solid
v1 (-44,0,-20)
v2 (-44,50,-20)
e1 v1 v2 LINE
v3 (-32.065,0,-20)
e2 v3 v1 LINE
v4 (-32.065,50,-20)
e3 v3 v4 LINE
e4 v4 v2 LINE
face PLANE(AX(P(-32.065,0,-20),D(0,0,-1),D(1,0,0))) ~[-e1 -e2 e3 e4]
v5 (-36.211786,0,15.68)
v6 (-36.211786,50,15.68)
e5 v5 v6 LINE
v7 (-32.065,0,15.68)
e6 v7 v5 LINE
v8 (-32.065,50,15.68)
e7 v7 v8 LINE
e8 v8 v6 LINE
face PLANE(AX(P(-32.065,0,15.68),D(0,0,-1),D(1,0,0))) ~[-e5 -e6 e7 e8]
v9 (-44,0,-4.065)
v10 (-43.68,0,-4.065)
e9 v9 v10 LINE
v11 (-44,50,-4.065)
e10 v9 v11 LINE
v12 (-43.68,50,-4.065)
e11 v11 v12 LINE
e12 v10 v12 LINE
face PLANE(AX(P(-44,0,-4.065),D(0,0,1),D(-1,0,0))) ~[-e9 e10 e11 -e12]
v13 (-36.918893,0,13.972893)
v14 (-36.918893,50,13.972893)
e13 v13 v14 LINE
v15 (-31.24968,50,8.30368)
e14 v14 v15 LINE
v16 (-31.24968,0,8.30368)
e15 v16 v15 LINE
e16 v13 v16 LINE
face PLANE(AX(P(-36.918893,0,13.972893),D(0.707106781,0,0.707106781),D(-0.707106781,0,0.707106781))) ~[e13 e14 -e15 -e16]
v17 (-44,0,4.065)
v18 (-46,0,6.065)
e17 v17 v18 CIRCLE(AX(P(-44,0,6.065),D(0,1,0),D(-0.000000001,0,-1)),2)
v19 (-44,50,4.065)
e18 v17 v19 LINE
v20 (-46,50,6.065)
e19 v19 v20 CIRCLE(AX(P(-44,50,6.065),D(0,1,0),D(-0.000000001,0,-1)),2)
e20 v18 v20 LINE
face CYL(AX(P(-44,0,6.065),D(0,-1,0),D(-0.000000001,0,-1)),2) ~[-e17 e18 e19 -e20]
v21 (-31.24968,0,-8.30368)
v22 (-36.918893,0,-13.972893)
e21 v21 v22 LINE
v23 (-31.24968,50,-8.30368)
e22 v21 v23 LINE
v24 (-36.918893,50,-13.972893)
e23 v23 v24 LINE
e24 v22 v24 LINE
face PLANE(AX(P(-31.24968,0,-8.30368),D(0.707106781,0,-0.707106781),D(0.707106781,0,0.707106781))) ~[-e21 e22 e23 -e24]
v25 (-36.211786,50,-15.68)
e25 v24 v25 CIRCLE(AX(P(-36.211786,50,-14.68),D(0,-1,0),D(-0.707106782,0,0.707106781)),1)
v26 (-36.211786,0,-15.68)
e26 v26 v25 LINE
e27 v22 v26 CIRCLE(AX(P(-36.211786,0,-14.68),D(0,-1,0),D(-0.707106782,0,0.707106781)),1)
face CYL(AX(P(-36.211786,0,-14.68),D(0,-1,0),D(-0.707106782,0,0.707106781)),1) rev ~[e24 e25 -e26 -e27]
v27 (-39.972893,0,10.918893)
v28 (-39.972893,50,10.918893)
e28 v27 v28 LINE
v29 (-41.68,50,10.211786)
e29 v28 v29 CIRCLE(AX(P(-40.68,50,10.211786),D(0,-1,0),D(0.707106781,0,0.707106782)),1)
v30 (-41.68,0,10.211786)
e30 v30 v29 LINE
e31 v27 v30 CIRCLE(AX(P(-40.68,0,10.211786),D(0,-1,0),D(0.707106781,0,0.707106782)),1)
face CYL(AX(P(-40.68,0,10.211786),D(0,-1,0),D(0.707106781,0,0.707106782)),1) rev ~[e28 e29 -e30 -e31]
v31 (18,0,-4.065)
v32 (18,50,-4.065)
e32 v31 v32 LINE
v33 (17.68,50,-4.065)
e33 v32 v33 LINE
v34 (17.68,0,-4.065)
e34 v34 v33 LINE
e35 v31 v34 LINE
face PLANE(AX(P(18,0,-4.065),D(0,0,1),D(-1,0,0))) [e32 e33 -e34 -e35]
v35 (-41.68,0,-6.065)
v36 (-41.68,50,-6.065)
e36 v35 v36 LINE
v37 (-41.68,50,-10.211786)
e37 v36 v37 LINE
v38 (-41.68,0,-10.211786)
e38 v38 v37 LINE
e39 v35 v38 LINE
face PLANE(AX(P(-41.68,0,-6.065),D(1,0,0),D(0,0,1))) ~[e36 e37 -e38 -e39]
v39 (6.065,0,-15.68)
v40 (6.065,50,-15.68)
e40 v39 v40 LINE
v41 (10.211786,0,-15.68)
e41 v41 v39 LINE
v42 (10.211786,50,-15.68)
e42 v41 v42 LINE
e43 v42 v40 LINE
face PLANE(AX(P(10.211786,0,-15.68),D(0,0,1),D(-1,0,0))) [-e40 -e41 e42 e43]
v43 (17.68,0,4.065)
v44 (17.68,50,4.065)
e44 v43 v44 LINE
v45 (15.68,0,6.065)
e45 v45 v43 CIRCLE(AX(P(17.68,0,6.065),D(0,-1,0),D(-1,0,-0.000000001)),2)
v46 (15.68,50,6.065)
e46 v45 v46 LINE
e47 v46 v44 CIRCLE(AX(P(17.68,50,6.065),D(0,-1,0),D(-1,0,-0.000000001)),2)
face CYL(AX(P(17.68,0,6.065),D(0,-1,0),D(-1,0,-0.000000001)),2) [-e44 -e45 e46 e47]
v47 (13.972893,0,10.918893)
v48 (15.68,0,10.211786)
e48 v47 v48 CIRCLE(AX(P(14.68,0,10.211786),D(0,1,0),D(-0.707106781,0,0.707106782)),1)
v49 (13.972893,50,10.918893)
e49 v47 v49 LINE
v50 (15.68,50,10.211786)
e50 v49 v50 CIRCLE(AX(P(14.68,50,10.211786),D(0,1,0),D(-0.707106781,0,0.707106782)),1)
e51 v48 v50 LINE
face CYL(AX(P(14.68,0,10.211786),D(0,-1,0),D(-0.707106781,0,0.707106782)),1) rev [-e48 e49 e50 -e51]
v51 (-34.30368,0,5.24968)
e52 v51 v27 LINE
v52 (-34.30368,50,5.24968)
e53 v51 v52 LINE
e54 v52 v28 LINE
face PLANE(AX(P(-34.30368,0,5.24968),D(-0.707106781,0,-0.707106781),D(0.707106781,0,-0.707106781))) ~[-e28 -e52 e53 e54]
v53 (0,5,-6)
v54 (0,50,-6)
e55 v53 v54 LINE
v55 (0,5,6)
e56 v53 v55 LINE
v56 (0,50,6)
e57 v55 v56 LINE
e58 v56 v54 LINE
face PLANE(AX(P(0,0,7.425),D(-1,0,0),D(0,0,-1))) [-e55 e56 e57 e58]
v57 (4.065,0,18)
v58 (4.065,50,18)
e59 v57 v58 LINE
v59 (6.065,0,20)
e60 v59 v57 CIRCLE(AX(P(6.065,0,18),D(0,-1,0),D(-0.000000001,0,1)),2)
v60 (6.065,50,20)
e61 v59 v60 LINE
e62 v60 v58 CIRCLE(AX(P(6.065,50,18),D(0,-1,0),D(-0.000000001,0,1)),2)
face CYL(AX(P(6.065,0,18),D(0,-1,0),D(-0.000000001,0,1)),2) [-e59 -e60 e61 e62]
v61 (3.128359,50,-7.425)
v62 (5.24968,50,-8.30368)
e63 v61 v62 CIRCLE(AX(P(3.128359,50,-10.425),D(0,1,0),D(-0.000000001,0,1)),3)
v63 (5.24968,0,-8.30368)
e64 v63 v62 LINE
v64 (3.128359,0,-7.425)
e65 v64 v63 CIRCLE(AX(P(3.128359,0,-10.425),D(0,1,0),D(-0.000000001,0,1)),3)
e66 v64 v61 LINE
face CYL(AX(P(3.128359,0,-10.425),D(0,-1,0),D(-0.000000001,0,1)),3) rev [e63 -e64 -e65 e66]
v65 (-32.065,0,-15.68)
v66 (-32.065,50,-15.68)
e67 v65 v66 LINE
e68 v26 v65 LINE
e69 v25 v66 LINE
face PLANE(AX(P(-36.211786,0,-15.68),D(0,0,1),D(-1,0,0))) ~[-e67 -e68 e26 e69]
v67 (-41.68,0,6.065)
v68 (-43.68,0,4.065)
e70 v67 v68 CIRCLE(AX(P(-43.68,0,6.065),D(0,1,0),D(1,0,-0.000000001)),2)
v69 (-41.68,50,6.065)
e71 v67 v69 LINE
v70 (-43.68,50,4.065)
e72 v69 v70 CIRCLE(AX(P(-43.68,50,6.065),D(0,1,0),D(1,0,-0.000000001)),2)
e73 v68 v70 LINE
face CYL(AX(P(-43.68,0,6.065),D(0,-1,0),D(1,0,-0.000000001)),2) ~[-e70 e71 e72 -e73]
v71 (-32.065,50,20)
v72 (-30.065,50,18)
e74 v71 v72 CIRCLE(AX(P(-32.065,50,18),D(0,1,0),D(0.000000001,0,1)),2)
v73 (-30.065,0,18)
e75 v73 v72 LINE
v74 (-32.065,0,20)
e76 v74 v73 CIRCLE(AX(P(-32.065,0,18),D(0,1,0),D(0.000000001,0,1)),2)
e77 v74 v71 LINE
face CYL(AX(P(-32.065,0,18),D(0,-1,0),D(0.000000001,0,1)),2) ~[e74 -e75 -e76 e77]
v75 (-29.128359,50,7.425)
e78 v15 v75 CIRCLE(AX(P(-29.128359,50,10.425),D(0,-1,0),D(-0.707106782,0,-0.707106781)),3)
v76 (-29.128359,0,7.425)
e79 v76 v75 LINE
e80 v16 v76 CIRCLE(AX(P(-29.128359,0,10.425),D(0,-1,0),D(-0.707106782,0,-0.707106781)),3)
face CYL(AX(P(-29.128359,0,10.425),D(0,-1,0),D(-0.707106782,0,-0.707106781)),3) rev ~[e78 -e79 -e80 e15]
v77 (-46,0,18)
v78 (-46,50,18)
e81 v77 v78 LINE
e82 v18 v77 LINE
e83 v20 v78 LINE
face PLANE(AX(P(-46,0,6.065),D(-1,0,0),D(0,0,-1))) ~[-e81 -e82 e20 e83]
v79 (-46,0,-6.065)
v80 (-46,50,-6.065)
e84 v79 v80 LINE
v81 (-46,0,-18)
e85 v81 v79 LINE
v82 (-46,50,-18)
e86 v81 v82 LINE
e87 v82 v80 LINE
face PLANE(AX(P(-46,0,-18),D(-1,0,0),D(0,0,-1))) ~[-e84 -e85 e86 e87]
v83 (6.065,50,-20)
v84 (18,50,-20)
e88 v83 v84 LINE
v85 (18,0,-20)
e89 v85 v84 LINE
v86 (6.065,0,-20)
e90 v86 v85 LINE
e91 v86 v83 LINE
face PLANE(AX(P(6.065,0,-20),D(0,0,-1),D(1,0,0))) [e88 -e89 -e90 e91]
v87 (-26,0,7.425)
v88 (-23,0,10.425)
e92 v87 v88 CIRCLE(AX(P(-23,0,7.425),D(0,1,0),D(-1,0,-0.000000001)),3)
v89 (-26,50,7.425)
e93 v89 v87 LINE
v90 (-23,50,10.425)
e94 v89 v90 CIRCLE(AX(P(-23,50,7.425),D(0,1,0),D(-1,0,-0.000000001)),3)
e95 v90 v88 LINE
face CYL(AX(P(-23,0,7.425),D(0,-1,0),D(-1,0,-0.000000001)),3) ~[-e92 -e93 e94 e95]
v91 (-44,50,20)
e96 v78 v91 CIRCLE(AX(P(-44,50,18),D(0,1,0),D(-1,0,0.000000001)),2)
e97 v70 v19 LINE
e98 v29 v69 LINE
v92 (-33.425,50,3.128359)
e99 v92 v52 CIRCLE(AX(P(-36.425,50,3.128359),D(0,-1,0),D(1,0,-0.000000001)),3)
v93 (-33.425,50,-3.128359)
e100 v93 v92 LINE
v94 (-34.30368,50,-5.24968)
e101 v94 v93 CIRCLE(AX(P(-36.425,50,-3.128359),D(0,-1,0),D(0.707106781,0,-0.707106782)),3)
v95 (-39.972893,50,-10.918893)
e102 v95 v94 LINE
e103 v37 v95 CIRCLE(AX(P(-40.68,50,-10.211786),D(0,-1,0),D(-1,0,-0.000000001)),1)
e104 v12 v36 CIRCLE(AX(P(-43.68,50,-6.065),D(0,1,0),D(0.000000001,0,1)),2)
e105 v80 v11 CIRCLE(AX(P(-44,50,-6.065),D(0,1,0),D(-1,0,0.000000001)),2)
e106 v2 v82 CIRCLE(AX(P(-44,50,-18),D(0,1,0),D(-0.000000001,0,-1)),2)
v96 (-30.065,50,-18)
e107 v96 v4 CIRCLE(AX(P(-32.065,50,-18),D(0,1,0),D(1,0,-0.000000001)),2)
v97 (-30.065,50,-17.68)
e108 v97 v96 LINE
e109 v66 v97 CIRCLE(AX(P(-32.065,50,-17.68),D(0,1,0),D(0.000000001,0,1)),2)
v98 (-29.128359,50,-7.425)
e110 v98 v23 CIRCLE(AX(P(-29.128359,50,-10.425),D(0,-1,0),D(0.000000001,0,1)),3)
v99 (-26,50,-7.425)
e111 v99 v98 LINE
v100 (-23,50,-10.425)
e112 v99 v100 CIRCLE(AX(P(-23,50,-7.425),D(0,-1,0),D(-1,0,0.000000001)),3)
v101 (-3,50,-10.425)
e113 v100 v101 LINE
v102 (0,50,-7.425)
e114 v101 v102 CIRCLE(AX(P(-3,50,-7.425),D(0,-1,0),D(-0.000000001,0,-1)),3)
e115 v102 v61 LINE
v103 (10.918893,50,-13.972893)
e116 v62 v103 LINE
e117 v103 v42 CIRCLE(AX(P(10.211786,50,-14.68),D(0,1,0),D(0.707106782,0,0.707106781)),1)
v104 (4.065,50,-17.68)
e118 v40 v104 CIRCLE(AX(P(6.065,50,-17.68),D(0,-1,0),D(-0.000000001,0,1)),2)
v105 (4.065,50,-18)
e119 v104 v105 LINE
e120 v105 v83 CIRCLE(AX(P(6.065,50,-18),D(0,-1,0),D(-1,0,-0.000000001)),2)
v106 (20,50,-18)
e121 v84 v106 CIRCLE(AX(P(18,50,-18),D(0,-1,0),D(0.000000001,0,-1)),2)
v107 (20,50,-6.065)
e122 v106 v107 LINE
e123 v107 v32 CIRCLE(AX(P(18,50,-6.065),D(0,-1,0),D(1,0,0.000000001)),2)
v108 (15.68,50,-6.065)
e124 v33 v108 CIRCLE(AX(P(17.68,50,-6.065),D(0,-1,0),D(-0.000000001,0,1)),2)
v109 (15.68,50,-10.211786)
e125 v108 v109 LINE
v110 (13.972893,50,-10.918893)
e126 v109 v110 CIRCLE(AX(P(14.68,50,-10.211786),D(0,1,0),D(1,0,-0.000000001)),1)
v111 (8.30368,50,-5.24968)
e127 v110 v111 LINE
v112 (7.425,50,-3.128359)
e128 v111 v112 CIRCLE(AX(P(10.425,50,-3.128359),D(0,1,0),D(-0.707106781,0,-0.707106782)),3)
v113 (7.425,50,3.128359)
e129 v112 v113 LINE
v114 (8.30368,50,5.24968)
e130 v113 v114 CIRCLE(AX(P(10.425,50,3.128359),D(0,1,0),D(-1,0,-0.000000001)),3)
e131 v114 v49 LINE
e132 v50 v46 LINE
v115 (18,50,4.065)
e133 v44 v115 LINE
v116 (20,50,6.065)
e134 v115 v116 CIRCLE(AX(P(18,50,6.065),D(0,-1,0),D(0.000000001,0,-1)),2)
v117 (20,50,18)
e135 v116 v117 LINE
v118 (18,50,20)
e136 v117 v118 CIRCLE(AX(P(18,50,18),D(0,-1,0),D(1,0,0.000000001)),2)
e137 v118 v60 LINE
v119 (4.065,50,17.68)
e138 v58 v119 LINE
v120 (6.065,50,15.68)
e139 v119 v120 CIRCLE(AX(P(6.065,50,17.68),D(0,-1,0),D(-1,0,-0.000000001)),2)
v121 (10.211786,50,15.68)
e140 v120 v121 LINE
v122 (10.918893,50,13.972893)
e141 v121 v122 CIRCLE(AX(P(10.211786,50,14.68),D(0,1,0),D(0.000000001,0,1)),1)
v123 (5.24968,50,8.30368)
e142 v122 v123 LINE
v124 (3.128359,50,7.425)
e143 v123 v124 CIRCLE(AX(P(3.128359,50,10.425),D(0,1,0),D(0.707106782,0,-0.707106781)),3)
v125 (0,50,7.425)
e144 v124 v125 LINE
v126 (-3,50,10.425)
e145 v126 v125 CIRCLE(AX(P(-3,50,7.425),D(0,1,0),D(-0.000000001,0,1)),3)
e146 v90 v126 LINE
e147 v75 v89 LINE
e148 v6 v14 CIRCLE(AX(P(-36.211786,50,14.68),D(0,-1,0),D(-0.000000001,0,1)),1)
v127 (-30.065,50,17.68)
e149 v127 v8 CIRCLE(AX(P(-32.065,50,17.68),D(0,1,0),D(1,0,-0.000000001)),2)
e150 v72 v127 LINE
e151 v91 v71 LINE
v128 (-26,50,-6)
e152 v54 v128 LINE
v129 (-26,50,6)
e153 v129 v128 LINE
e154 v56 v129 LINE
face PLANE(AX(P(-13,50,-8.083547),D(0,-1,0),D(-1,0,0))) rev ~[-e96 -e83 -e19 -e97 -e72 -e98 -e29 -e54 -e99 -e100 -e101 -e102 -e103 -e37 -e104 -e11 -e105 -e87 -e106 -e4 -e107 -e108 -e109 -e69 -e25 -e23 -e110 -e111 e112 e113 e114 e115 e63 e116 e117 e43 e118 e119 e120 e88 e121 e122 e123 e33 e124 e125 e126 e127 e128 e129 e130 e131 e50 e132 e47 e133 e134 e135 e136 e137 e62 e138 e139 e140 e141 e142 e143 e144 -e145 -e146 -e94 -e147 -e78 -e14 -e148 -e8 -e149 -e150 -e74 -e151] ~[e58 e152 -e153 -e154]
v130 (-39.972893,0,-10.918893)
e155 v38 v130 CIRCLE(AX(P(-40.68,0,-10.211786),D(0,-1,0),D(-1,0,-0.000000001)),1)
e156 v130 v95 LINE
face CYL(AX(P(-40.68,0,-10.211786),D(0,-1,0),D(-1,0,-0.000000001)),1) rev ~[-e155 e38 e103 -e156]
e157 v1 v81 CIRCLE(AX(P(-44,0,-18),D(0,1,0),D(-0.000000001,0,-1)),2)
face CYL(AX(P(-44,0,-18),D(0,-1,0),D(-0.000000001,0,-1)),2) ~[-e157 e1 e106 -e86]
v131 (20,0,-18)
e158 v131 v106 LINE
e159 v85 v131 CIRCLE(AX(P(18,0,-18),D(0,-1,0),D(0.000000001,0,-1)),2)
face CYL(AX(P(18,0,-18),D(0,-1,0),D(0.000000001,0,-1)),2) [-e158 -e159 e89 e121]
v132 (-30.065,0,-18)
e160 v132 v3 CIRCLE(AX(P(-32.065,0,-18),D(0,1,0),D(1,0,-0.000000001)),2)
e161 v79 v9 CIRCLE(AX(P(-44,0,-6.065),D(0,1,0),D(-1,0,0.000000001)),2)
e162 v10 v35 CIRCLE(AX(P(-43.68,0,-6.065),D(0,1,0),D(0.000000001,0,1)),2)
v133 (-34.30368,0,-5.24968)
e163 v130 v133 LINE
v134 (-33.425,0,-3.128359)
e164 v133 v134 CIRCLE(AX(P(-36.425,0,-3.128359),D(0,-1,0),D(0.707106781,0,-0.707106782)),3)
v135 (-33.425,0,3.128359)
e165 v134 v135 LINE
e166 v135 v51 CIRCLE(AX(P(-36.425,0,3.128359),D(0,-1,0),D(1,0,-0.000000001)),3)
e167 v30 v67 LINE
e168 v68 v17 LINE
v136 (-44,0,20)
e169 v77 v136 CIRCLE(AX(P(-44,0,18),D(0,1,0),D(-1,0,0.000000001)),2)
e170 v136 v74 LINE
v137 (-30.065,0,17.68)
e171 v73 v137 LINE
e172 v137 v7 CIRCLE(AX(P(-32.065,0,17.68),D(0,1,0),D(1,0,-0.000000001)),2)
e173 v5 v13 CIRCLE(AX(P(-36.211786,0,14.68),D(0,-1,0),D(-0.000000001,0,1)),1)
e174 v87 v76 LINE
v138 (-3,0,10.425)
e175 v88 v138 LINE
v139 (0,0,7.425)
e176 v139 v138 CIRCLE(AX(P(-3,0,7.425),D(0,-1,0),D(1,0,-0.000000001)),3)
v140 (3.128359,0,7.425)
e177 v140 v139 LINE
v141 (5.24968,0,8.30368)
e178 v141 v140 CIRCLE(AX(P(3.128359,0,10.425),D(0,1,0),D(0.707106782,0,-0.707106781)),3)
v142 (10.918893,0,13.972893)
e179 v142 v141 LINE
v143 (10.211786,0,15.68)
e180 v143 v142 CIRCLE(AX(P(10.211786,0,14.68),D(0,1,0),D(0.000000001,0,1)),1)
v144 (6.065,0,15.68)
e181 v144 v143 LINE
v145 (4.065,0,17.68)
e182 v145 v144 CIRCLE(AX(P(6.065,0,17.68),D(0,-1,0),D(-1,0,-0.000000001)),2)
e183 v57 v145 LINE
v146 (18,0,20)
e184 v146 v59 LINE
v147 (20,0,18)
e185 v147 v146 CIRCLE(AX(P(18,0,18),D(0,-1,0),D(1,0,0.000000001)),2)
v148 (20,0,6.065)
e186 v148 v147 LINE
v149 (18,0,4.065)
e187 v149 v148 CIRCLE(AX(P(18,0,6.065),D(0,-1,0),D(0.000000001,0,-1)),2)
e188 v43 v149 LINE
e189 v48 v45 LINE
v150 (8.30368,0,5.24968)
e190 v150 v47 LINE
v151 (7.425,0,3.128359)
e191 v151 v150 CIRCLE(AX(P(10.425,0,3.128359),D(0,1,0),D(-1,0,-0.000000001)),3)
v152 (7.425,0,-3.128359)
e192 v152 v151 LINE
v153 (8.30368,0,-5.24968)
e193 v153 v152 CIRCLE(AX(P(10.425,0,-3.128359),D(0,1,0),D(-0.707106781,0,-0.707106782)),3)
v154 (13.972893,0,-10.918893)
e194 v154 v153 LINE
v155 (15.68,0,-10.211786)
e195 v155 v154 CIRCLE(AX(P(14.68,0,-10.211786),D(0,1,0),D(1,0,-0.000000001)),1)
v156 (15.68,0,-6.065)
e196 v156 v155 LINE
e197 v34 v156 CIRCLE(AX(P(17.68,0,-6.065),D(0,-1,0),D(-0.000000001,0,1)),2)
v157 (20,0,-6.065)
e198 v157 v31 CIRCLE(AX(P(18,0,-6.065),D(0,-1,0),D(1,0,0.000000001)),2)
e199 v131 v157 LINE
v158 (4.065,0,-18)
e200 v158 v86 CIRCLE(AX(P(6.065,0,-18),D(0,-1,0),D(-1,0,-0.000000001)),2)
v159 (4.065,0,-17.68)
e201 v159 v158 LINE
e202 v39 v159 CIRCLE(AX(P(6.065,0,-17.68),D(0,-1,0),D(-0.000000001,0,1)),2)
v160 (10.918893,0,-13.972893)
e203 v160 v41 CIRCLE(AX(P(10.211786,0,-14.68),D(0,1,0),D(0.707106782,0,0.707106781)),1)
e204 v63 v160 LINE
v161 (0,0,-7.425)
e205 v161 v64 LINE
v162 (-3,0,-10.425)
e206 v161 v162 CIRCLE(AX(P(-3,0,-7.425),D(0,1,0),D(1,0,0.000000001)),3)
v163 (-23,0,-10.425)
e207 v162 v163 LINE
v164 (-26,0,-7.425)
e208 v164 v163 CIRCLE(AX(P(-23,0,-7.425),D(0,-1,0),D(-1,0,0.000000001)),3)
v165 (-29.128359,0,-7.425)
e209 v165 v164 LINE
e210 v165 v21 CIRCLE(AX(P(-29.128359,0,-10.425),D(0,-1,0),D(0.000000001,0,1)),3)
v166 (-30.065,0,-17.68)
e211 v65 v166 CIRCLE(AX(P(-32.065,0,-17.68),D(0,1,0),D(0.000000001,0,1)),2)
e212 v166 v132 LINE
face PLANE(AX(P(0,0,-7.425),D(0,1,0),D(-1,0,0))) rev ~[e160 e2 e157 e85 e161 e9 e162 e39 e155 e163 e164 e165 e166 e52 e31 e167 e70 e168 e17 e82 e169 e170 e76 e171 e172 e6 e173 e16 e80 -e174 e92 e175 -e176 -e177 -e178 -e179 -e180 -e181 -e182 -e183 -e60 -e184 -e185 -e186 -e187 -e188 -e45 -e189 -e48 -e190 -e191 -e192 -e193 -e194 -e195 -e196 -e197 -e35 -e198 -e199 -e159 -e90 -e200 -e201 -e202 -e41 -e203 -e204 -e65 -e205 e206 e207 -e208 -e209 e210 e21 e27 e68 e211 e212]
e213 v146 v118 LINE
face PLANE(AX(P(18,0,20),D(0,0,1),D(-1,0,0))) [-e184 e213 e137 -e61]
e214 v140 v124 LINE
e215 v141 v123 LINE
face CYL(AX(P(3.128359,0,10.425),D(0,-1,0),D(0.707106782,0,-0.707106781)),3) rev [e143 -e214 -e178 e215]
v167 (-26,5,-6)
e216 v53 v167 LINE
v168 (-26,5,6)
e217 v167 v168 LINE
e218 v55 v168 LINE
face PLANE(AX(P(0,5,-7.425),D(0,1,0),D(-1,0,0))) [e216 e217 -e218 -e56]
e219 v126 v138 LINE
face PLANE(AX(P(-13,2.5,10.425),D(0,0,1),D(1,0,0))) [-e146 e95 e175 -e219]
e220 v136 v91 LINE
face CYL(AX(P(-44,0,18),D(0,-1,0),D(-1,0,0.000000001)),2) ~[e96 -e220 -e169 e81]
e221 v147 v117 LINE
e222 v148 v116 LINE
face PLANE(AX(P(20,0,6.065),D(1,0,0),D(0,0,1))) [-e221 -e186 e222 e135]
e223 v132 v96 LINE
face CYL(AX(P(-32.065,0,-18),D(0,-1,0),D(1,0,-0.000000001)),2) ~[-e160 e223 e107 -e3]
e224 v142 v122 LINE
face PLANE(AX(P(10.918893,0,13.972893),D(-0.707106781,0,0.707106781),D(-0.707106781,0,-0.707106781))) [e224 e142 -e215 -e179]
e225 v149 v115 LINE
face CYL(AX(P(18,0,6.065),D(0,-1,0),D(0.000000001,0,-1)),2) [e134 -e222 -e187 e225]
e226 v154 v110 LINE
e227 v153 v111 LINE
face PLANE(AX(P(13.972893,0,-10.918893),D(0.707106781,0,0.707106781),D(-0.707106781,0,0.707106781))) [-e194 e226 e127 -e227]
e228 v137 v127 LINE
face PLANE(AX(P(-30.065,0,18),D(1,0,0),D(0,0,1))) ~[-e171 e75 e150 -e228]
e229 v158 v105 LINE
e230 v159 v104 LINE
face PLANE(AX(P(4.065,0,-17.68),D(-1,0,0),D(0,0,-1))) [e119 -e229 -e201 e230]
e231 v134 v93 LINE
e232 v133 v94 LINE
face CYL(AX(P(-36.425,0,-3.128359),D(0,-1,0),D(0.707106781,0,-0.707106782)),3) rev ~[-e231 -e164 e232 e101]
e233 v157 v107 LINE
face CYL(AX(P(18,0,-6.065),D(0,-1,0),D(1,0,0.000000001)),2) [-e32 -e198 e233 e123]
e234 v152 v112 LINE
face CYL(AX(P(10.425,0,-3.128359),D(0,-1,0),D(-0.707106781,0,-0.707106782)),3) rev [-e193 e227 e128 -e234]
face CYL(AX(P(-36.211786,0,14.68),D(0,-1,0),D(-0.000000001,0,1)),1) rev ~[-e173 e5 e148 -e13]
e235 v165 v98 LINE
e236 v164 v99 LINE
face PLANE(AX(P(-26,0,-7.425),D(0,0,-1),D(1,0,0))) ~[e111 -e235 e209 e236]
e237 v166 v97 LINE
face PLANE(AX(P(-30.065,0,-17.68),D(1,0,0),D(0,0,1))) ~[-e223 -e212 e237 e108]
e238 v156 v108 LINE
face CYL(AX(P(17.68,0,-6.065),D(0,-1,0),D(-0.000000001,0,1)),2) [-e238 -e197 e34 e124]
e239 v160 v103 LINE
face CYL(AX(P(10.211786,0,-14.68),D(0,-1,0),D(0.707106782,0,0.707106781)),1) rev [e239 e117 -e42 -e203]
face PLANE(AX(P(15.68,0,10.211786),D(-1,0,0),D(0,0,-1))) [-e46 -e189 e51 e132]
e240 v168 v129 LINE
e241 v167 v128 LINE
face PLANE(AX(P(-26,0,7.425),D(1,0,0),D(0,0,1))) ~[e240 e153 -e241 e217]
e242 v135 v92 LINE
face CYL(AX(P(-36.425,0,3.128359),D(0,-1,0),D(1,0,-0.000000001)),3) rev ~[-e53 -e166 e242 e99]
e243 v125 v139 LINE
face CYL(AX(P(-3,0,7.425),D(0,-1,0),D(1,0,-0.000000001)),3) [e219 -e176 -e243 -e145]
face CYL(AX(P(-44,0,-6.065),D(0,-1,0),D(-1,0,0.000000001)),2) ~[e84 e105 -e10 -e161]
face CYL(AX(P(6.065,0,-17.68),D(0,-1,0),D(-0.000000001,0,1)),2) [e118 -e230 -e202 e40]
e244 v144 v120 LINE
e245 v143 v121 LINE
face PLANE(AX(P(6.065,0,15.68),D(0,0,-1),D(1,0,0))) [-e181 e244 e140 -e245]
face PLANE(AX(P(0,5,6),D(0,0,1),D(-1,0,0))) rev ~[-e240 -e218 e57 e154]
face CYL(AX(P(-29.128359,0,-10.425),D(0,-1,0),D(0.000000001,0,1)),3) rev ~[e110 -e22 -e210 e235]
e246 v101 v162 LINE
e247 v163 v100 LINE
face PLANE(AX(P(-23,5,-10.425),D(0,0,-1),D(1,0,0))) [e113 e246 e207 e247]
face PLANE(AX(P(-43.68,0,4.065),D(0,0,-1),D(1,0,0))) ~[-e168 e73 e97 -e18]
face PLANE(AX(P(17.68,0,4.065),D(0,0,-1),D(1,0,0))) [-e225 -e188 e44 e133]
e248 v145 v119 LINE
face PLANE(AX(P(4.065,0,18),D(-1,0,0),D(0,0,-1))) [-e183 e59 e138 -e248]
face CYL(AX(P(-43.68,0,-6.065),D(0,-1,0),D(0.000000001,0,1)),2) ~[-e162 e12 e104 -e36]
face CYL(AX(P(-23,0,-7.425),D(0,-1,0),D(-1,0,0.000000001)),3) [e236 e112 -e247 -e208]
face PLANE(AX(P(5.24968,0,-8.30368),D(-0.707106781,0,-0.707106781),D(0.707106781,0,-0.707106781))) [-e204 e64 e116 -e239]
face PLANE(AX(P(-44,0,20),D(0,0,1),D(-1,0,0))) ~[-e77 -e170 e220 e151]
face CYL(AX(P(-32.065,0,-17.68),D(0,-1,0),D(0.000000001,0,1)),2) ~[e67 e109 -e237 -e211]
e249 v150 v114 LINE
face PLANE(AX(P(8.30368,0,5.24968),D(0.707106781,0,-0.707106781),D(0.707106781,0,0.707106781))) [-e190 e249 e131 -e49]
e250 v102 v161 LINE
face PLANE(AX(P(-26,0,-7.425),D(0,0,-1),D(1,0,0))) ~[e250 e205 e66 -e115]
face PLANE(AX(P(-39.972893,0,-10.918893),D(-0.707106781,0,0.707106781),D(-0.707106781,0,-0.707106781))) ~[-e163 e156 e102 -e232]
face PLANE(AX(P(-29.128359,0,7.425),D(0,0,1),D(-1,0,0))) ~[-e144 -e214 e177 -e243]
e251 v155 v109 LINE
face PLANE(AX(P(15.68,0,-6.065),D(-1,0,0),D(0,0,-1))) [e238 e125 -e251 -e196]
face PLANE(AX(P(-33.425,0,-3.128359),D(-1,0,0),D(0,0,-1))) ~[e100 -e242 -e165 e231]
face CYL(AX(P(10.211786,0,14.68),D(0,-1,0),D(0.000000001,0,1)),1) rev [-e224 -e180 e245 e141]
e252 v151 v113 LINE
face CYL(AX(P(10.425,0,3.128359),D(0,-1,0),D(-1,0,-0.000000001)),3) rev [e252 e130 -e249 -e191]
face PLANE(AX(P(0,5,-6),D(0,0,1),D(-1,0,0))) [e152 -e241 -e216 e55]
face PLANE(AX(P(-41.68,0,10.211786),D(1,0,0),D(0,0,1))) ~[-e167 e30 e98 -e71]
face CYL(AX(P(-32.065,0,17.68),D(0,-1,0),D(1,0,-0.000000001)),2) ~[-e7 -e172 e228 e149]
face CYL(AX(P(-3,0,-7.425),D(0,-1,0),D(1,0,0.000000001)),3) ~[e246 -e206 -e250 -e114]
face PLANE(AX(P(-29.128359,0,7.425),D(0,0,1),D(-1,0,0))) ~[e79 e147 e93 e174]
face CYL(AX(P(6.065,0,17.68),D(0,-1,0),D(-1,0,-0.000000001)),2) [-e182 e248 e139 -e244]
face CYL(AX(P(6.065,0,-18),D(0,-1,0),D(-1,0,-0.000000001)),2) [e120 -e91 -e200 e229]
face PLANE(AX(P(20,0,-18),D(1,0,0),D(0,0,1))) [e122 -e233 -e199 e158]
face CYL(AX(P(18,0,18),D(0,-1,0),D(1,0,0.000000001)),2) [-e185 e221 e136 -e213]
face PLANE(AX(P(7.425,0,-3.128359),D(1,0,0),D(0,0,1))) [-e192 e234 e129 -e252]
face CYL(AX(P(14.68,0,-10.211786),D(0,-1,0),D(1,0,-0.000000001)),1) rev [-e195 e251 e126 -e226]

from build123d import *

# Parameters (mm, degrees)
BOSS_EXTRUDE3_DEPTH = 50
SKETCH4_W           = 14.85
SKETCH4_H           = 5
BOSS_EXTRUDE4_DEPTH = 26
SKETCH6_W           = 26
SKETCH6_H           = 5
BOSS_EXTRUDE5_DEPTH = 3
SKETCH7_W           = 26
SKETCH7_H           = 5
BOSS_EXTRUDE6_DEPTH = 3
BOSS_EXTRUDE7_DEPTH = 45
CUT_EXTRUDE1_START  = -5
CUT_EXTRUDE1_DEPTH  = 5


with BuildPart() as part:
    # Sketch1 → Boss-Extrude3 (new body)
    with BuildSketch(Plane(origin=(0, 0, 0), x_dir=(1, 0, 0), z_dir=(0, 1, 0))):
        with BuildLine():
            ThreePointArc((4.065, -18), (4.650786438, -19.414213562), (6.065, -20))
            Line((6.065, -20), (18, -20))
            ThreePointArc((18, -20), (19.414213562, -19.414213562), (20, -18))
            Line((20, -18), (20, -15.68))
            Line((20, -15.68), (20, -6.065))
            ThreePointArc((20, -6.065), (19.414213562, -4.650786438), (18, -4.065))
            Line((18, -4.065), (17.68, -4.065))
            ThreePointArc((17.68, -4.065), (16.265786438, -4.650786438), (15.68, -6.065))
            Line((15.68, -6.065), (15.68, -10.211786438))
            ThreePointArc((15.68, -10.211786438), (15.062683432, -11.13566597), (13.972893219, -10.918893219))
            Line((13.972893219, -10.918893219), (8.303679656, -5.249679656))
            ThreePointArc((8.303679656, -5.249679656), (7.653361402, -4.27640961), (7.425, -3.128359313))
            Line((7.425, -3.128359313), (7.425, 3.128359313))
            ThreePointArc((7.425, 3.128359313), (7.653361402, 4.27640961), (8.303679656, 5.249679656))
            Line((8.303679656, 5.249679656), (13.972893219, 10.918893219))
            ThreePointArc((13.972893219, 10.918893219), (15.062683432, 11.13566597), (15.68, 10.211786438))
            Line((15.68, 10.211786438), (15.68, 6.065))
            ThreePointArc((15.68, 6.065), (16.265786438, 4.650786438), (17.68, 4.065))
            Line((17.68, 4.065), (18, 4.065))
            ThreePointArc((18, 4.065), (19.414213562, 4.650786438), (20, 6.065))
            Line((20, 6.065), (20, 18))
            ThreePointArc((20, 18), (19.414213562, 19.414213562), (18, 20))
            Line((18, 20), (6.065, 20))
            ThreePointArc((6.065, 20), (4.650786438, 19.414213562), (4.065, 18))
            Line((4.065, 18), (4.065, 17.68))
            ThreePointArc((4.065, 17.68), (4.650786438, 16.265786438), (6.065, 15.68))
            Line((6.065, 15.68), (10.211786438, 15.68))
            ThreePointArc((10.211786438, 15.68), (11.13566597, 15.062683432), (10.918893219, 13.972893219))
            Line((10.918893219, 13.972893219), (5.249679656, 8.303679656))
            ThreePointArc((5.249679656, 8.303679656), (4.27640961, 7.653361402), (3.128359313, 7.425))
            Line((3.128359313, 7.425), (0, 7.425))
            Line((0, 7.425), (0, -7.425))
            Line((0, -7.425), (3.128359313, -7.425))
            ThreePointArc((3.128359313, -7.425), (4.27640961, -7.653361402), (5.249679656, -8.303679656))
            Line((5.249679656, -8.303679656), (10.918893219, -13.972893219))
            ThreePointArc((10.918893219, -13.972893219), (11.13566597, -15.062683432), (10.211786438, -15.68))
            Line((10.211786438, -15.68), (6.065, -15.68))
            ThreePointArc((6.065, -15.68), (4.650786438, -16.265786438), (4.065, -17.68))
            Line((4.065, -17.68), (4.065, -18))
        make_face()
    boss_extrude3 = extrude(amount=BOSS_EXTRUDE3_DEPTH)

    # Sketch4 → Boss-Extrude4 (add)
    with BuildSketch(Plane.ZY):
        with Locations((0, 2.5)):
            Rectangle(SKETCH4_W, SKETCH4_H)
    extrude(amount=BOSS_EXTRUDE4_DEPTH)

    # Mirror2: Boss-Extrude3 across plane
    add(boss_extrude3.mirror(Plane.ZY.offset(13)))

    # Sketch6 → Boss-Extrude5 (add)
    with BuildSketch(Plane.XY.offset(7.425)):
        with Locations((-13, 2.5)):
            Rectangle(SKETCH6_W, SKETCH6_H)
    extrude(amount=BOSS_EXTRUDE5_DEPTH)

    # Sketch7 → Boss-Extrude6 (add)
    with BuildSketch(Plane(origin=(0, 0, -7.425), x_dir=(-1, 0, 0), z_dir=(0, 0, -1))):
        with Locations((13, 2.5)):
            Rectangle(SKETCH7_W, SKETCH7_H)
    extrude(amount=BOSS_EXTRUDE6_DEPTH)

    # Sketch8 → Boss-Extrude7 (add)
    with BuildSketch(Plane(origin=(0, 5, 0), x_dir=(1, 0, 0), z_dir=(0, 1, 0))):
        with BuildLine():
            Line((-3, 10.425), (-23, 10.425))
            ThreePointArc((-23, 10.425), (-25.121320344, 9.546320344), (-26, 7.425))
            Line((-26, 7.425), (-26, 6))
            Line((-26, 6), (0, 6))
            Line((0, 6), (0, 7.425))
            ThreePointArc((0, 7.425), (-0.878679656, 9.546320344), (-3, 10.425))
        make_face()
        with BuildLine():
            Line((0, -7.425), (0, -6))
            Line((0, -6), (-26, -6))
            Line((-26, -6), (-26, -7.425))
            ThreePointArc((-26, -7.425), (-25.121320344, -9.546320344), (-23, -10.425))
            Line((-23, -10.425), (-3, -10.425))
            ThreePointArc((-3, -10.425), (-0.878679656, -9.546320344), (0, -7.425))
        make_face()
    extrude(amount=BOSS_EXTRUDE7_DEPTH)

    # Sketch9 → Cut-Extrude1 (cut)
    with BuildSketch(Plane(origin=(0, 5, 0), x_dir=(1, 0, 0), z_dir=(0, 1, 0)).offset(CUT_EXTRUDE1_START)):
        with BuildLine():
            ThreePointArc((0, -7.425), (-0.878679656, -9.546320344), (-3, -10.425))
            Line((-3, -10.425), (0, -10.425))
            Line((0, -10.425), (0, -7.425))
        make_face()
        with BuildLine():
            Line((-26, -7.425), (-26, -10.425))
            Line((-26, -10.425), (-23, -10.425))
            ThreePointArc((-23, -10.425), (-25.121320344, -9.546320344), (-26, -7.425))
        make_face()
        with BuildLine():
            Line((0, 7.425), (0, 10.425))
            Line((0, 10.425), (-3, 10.425))
            ThreePointArc((-3, 10.425), (-0.878679656, 9.546320344), (0, 7.425))
        make_face()
        with BuildLine():
            ThreePointArc((-26, 7.425), (-25.121320344, 9.546320344), (-23, 10.425))
            Line((-23, 10.425), (-26, 10.425))
            Line((-26, 10.425), (-26, 7.425))
        make_face()
    extrude(amount=CUT_EXTRUDE1_DEPTH, mode=Mode.SUBTRACT)


solid = part.part
